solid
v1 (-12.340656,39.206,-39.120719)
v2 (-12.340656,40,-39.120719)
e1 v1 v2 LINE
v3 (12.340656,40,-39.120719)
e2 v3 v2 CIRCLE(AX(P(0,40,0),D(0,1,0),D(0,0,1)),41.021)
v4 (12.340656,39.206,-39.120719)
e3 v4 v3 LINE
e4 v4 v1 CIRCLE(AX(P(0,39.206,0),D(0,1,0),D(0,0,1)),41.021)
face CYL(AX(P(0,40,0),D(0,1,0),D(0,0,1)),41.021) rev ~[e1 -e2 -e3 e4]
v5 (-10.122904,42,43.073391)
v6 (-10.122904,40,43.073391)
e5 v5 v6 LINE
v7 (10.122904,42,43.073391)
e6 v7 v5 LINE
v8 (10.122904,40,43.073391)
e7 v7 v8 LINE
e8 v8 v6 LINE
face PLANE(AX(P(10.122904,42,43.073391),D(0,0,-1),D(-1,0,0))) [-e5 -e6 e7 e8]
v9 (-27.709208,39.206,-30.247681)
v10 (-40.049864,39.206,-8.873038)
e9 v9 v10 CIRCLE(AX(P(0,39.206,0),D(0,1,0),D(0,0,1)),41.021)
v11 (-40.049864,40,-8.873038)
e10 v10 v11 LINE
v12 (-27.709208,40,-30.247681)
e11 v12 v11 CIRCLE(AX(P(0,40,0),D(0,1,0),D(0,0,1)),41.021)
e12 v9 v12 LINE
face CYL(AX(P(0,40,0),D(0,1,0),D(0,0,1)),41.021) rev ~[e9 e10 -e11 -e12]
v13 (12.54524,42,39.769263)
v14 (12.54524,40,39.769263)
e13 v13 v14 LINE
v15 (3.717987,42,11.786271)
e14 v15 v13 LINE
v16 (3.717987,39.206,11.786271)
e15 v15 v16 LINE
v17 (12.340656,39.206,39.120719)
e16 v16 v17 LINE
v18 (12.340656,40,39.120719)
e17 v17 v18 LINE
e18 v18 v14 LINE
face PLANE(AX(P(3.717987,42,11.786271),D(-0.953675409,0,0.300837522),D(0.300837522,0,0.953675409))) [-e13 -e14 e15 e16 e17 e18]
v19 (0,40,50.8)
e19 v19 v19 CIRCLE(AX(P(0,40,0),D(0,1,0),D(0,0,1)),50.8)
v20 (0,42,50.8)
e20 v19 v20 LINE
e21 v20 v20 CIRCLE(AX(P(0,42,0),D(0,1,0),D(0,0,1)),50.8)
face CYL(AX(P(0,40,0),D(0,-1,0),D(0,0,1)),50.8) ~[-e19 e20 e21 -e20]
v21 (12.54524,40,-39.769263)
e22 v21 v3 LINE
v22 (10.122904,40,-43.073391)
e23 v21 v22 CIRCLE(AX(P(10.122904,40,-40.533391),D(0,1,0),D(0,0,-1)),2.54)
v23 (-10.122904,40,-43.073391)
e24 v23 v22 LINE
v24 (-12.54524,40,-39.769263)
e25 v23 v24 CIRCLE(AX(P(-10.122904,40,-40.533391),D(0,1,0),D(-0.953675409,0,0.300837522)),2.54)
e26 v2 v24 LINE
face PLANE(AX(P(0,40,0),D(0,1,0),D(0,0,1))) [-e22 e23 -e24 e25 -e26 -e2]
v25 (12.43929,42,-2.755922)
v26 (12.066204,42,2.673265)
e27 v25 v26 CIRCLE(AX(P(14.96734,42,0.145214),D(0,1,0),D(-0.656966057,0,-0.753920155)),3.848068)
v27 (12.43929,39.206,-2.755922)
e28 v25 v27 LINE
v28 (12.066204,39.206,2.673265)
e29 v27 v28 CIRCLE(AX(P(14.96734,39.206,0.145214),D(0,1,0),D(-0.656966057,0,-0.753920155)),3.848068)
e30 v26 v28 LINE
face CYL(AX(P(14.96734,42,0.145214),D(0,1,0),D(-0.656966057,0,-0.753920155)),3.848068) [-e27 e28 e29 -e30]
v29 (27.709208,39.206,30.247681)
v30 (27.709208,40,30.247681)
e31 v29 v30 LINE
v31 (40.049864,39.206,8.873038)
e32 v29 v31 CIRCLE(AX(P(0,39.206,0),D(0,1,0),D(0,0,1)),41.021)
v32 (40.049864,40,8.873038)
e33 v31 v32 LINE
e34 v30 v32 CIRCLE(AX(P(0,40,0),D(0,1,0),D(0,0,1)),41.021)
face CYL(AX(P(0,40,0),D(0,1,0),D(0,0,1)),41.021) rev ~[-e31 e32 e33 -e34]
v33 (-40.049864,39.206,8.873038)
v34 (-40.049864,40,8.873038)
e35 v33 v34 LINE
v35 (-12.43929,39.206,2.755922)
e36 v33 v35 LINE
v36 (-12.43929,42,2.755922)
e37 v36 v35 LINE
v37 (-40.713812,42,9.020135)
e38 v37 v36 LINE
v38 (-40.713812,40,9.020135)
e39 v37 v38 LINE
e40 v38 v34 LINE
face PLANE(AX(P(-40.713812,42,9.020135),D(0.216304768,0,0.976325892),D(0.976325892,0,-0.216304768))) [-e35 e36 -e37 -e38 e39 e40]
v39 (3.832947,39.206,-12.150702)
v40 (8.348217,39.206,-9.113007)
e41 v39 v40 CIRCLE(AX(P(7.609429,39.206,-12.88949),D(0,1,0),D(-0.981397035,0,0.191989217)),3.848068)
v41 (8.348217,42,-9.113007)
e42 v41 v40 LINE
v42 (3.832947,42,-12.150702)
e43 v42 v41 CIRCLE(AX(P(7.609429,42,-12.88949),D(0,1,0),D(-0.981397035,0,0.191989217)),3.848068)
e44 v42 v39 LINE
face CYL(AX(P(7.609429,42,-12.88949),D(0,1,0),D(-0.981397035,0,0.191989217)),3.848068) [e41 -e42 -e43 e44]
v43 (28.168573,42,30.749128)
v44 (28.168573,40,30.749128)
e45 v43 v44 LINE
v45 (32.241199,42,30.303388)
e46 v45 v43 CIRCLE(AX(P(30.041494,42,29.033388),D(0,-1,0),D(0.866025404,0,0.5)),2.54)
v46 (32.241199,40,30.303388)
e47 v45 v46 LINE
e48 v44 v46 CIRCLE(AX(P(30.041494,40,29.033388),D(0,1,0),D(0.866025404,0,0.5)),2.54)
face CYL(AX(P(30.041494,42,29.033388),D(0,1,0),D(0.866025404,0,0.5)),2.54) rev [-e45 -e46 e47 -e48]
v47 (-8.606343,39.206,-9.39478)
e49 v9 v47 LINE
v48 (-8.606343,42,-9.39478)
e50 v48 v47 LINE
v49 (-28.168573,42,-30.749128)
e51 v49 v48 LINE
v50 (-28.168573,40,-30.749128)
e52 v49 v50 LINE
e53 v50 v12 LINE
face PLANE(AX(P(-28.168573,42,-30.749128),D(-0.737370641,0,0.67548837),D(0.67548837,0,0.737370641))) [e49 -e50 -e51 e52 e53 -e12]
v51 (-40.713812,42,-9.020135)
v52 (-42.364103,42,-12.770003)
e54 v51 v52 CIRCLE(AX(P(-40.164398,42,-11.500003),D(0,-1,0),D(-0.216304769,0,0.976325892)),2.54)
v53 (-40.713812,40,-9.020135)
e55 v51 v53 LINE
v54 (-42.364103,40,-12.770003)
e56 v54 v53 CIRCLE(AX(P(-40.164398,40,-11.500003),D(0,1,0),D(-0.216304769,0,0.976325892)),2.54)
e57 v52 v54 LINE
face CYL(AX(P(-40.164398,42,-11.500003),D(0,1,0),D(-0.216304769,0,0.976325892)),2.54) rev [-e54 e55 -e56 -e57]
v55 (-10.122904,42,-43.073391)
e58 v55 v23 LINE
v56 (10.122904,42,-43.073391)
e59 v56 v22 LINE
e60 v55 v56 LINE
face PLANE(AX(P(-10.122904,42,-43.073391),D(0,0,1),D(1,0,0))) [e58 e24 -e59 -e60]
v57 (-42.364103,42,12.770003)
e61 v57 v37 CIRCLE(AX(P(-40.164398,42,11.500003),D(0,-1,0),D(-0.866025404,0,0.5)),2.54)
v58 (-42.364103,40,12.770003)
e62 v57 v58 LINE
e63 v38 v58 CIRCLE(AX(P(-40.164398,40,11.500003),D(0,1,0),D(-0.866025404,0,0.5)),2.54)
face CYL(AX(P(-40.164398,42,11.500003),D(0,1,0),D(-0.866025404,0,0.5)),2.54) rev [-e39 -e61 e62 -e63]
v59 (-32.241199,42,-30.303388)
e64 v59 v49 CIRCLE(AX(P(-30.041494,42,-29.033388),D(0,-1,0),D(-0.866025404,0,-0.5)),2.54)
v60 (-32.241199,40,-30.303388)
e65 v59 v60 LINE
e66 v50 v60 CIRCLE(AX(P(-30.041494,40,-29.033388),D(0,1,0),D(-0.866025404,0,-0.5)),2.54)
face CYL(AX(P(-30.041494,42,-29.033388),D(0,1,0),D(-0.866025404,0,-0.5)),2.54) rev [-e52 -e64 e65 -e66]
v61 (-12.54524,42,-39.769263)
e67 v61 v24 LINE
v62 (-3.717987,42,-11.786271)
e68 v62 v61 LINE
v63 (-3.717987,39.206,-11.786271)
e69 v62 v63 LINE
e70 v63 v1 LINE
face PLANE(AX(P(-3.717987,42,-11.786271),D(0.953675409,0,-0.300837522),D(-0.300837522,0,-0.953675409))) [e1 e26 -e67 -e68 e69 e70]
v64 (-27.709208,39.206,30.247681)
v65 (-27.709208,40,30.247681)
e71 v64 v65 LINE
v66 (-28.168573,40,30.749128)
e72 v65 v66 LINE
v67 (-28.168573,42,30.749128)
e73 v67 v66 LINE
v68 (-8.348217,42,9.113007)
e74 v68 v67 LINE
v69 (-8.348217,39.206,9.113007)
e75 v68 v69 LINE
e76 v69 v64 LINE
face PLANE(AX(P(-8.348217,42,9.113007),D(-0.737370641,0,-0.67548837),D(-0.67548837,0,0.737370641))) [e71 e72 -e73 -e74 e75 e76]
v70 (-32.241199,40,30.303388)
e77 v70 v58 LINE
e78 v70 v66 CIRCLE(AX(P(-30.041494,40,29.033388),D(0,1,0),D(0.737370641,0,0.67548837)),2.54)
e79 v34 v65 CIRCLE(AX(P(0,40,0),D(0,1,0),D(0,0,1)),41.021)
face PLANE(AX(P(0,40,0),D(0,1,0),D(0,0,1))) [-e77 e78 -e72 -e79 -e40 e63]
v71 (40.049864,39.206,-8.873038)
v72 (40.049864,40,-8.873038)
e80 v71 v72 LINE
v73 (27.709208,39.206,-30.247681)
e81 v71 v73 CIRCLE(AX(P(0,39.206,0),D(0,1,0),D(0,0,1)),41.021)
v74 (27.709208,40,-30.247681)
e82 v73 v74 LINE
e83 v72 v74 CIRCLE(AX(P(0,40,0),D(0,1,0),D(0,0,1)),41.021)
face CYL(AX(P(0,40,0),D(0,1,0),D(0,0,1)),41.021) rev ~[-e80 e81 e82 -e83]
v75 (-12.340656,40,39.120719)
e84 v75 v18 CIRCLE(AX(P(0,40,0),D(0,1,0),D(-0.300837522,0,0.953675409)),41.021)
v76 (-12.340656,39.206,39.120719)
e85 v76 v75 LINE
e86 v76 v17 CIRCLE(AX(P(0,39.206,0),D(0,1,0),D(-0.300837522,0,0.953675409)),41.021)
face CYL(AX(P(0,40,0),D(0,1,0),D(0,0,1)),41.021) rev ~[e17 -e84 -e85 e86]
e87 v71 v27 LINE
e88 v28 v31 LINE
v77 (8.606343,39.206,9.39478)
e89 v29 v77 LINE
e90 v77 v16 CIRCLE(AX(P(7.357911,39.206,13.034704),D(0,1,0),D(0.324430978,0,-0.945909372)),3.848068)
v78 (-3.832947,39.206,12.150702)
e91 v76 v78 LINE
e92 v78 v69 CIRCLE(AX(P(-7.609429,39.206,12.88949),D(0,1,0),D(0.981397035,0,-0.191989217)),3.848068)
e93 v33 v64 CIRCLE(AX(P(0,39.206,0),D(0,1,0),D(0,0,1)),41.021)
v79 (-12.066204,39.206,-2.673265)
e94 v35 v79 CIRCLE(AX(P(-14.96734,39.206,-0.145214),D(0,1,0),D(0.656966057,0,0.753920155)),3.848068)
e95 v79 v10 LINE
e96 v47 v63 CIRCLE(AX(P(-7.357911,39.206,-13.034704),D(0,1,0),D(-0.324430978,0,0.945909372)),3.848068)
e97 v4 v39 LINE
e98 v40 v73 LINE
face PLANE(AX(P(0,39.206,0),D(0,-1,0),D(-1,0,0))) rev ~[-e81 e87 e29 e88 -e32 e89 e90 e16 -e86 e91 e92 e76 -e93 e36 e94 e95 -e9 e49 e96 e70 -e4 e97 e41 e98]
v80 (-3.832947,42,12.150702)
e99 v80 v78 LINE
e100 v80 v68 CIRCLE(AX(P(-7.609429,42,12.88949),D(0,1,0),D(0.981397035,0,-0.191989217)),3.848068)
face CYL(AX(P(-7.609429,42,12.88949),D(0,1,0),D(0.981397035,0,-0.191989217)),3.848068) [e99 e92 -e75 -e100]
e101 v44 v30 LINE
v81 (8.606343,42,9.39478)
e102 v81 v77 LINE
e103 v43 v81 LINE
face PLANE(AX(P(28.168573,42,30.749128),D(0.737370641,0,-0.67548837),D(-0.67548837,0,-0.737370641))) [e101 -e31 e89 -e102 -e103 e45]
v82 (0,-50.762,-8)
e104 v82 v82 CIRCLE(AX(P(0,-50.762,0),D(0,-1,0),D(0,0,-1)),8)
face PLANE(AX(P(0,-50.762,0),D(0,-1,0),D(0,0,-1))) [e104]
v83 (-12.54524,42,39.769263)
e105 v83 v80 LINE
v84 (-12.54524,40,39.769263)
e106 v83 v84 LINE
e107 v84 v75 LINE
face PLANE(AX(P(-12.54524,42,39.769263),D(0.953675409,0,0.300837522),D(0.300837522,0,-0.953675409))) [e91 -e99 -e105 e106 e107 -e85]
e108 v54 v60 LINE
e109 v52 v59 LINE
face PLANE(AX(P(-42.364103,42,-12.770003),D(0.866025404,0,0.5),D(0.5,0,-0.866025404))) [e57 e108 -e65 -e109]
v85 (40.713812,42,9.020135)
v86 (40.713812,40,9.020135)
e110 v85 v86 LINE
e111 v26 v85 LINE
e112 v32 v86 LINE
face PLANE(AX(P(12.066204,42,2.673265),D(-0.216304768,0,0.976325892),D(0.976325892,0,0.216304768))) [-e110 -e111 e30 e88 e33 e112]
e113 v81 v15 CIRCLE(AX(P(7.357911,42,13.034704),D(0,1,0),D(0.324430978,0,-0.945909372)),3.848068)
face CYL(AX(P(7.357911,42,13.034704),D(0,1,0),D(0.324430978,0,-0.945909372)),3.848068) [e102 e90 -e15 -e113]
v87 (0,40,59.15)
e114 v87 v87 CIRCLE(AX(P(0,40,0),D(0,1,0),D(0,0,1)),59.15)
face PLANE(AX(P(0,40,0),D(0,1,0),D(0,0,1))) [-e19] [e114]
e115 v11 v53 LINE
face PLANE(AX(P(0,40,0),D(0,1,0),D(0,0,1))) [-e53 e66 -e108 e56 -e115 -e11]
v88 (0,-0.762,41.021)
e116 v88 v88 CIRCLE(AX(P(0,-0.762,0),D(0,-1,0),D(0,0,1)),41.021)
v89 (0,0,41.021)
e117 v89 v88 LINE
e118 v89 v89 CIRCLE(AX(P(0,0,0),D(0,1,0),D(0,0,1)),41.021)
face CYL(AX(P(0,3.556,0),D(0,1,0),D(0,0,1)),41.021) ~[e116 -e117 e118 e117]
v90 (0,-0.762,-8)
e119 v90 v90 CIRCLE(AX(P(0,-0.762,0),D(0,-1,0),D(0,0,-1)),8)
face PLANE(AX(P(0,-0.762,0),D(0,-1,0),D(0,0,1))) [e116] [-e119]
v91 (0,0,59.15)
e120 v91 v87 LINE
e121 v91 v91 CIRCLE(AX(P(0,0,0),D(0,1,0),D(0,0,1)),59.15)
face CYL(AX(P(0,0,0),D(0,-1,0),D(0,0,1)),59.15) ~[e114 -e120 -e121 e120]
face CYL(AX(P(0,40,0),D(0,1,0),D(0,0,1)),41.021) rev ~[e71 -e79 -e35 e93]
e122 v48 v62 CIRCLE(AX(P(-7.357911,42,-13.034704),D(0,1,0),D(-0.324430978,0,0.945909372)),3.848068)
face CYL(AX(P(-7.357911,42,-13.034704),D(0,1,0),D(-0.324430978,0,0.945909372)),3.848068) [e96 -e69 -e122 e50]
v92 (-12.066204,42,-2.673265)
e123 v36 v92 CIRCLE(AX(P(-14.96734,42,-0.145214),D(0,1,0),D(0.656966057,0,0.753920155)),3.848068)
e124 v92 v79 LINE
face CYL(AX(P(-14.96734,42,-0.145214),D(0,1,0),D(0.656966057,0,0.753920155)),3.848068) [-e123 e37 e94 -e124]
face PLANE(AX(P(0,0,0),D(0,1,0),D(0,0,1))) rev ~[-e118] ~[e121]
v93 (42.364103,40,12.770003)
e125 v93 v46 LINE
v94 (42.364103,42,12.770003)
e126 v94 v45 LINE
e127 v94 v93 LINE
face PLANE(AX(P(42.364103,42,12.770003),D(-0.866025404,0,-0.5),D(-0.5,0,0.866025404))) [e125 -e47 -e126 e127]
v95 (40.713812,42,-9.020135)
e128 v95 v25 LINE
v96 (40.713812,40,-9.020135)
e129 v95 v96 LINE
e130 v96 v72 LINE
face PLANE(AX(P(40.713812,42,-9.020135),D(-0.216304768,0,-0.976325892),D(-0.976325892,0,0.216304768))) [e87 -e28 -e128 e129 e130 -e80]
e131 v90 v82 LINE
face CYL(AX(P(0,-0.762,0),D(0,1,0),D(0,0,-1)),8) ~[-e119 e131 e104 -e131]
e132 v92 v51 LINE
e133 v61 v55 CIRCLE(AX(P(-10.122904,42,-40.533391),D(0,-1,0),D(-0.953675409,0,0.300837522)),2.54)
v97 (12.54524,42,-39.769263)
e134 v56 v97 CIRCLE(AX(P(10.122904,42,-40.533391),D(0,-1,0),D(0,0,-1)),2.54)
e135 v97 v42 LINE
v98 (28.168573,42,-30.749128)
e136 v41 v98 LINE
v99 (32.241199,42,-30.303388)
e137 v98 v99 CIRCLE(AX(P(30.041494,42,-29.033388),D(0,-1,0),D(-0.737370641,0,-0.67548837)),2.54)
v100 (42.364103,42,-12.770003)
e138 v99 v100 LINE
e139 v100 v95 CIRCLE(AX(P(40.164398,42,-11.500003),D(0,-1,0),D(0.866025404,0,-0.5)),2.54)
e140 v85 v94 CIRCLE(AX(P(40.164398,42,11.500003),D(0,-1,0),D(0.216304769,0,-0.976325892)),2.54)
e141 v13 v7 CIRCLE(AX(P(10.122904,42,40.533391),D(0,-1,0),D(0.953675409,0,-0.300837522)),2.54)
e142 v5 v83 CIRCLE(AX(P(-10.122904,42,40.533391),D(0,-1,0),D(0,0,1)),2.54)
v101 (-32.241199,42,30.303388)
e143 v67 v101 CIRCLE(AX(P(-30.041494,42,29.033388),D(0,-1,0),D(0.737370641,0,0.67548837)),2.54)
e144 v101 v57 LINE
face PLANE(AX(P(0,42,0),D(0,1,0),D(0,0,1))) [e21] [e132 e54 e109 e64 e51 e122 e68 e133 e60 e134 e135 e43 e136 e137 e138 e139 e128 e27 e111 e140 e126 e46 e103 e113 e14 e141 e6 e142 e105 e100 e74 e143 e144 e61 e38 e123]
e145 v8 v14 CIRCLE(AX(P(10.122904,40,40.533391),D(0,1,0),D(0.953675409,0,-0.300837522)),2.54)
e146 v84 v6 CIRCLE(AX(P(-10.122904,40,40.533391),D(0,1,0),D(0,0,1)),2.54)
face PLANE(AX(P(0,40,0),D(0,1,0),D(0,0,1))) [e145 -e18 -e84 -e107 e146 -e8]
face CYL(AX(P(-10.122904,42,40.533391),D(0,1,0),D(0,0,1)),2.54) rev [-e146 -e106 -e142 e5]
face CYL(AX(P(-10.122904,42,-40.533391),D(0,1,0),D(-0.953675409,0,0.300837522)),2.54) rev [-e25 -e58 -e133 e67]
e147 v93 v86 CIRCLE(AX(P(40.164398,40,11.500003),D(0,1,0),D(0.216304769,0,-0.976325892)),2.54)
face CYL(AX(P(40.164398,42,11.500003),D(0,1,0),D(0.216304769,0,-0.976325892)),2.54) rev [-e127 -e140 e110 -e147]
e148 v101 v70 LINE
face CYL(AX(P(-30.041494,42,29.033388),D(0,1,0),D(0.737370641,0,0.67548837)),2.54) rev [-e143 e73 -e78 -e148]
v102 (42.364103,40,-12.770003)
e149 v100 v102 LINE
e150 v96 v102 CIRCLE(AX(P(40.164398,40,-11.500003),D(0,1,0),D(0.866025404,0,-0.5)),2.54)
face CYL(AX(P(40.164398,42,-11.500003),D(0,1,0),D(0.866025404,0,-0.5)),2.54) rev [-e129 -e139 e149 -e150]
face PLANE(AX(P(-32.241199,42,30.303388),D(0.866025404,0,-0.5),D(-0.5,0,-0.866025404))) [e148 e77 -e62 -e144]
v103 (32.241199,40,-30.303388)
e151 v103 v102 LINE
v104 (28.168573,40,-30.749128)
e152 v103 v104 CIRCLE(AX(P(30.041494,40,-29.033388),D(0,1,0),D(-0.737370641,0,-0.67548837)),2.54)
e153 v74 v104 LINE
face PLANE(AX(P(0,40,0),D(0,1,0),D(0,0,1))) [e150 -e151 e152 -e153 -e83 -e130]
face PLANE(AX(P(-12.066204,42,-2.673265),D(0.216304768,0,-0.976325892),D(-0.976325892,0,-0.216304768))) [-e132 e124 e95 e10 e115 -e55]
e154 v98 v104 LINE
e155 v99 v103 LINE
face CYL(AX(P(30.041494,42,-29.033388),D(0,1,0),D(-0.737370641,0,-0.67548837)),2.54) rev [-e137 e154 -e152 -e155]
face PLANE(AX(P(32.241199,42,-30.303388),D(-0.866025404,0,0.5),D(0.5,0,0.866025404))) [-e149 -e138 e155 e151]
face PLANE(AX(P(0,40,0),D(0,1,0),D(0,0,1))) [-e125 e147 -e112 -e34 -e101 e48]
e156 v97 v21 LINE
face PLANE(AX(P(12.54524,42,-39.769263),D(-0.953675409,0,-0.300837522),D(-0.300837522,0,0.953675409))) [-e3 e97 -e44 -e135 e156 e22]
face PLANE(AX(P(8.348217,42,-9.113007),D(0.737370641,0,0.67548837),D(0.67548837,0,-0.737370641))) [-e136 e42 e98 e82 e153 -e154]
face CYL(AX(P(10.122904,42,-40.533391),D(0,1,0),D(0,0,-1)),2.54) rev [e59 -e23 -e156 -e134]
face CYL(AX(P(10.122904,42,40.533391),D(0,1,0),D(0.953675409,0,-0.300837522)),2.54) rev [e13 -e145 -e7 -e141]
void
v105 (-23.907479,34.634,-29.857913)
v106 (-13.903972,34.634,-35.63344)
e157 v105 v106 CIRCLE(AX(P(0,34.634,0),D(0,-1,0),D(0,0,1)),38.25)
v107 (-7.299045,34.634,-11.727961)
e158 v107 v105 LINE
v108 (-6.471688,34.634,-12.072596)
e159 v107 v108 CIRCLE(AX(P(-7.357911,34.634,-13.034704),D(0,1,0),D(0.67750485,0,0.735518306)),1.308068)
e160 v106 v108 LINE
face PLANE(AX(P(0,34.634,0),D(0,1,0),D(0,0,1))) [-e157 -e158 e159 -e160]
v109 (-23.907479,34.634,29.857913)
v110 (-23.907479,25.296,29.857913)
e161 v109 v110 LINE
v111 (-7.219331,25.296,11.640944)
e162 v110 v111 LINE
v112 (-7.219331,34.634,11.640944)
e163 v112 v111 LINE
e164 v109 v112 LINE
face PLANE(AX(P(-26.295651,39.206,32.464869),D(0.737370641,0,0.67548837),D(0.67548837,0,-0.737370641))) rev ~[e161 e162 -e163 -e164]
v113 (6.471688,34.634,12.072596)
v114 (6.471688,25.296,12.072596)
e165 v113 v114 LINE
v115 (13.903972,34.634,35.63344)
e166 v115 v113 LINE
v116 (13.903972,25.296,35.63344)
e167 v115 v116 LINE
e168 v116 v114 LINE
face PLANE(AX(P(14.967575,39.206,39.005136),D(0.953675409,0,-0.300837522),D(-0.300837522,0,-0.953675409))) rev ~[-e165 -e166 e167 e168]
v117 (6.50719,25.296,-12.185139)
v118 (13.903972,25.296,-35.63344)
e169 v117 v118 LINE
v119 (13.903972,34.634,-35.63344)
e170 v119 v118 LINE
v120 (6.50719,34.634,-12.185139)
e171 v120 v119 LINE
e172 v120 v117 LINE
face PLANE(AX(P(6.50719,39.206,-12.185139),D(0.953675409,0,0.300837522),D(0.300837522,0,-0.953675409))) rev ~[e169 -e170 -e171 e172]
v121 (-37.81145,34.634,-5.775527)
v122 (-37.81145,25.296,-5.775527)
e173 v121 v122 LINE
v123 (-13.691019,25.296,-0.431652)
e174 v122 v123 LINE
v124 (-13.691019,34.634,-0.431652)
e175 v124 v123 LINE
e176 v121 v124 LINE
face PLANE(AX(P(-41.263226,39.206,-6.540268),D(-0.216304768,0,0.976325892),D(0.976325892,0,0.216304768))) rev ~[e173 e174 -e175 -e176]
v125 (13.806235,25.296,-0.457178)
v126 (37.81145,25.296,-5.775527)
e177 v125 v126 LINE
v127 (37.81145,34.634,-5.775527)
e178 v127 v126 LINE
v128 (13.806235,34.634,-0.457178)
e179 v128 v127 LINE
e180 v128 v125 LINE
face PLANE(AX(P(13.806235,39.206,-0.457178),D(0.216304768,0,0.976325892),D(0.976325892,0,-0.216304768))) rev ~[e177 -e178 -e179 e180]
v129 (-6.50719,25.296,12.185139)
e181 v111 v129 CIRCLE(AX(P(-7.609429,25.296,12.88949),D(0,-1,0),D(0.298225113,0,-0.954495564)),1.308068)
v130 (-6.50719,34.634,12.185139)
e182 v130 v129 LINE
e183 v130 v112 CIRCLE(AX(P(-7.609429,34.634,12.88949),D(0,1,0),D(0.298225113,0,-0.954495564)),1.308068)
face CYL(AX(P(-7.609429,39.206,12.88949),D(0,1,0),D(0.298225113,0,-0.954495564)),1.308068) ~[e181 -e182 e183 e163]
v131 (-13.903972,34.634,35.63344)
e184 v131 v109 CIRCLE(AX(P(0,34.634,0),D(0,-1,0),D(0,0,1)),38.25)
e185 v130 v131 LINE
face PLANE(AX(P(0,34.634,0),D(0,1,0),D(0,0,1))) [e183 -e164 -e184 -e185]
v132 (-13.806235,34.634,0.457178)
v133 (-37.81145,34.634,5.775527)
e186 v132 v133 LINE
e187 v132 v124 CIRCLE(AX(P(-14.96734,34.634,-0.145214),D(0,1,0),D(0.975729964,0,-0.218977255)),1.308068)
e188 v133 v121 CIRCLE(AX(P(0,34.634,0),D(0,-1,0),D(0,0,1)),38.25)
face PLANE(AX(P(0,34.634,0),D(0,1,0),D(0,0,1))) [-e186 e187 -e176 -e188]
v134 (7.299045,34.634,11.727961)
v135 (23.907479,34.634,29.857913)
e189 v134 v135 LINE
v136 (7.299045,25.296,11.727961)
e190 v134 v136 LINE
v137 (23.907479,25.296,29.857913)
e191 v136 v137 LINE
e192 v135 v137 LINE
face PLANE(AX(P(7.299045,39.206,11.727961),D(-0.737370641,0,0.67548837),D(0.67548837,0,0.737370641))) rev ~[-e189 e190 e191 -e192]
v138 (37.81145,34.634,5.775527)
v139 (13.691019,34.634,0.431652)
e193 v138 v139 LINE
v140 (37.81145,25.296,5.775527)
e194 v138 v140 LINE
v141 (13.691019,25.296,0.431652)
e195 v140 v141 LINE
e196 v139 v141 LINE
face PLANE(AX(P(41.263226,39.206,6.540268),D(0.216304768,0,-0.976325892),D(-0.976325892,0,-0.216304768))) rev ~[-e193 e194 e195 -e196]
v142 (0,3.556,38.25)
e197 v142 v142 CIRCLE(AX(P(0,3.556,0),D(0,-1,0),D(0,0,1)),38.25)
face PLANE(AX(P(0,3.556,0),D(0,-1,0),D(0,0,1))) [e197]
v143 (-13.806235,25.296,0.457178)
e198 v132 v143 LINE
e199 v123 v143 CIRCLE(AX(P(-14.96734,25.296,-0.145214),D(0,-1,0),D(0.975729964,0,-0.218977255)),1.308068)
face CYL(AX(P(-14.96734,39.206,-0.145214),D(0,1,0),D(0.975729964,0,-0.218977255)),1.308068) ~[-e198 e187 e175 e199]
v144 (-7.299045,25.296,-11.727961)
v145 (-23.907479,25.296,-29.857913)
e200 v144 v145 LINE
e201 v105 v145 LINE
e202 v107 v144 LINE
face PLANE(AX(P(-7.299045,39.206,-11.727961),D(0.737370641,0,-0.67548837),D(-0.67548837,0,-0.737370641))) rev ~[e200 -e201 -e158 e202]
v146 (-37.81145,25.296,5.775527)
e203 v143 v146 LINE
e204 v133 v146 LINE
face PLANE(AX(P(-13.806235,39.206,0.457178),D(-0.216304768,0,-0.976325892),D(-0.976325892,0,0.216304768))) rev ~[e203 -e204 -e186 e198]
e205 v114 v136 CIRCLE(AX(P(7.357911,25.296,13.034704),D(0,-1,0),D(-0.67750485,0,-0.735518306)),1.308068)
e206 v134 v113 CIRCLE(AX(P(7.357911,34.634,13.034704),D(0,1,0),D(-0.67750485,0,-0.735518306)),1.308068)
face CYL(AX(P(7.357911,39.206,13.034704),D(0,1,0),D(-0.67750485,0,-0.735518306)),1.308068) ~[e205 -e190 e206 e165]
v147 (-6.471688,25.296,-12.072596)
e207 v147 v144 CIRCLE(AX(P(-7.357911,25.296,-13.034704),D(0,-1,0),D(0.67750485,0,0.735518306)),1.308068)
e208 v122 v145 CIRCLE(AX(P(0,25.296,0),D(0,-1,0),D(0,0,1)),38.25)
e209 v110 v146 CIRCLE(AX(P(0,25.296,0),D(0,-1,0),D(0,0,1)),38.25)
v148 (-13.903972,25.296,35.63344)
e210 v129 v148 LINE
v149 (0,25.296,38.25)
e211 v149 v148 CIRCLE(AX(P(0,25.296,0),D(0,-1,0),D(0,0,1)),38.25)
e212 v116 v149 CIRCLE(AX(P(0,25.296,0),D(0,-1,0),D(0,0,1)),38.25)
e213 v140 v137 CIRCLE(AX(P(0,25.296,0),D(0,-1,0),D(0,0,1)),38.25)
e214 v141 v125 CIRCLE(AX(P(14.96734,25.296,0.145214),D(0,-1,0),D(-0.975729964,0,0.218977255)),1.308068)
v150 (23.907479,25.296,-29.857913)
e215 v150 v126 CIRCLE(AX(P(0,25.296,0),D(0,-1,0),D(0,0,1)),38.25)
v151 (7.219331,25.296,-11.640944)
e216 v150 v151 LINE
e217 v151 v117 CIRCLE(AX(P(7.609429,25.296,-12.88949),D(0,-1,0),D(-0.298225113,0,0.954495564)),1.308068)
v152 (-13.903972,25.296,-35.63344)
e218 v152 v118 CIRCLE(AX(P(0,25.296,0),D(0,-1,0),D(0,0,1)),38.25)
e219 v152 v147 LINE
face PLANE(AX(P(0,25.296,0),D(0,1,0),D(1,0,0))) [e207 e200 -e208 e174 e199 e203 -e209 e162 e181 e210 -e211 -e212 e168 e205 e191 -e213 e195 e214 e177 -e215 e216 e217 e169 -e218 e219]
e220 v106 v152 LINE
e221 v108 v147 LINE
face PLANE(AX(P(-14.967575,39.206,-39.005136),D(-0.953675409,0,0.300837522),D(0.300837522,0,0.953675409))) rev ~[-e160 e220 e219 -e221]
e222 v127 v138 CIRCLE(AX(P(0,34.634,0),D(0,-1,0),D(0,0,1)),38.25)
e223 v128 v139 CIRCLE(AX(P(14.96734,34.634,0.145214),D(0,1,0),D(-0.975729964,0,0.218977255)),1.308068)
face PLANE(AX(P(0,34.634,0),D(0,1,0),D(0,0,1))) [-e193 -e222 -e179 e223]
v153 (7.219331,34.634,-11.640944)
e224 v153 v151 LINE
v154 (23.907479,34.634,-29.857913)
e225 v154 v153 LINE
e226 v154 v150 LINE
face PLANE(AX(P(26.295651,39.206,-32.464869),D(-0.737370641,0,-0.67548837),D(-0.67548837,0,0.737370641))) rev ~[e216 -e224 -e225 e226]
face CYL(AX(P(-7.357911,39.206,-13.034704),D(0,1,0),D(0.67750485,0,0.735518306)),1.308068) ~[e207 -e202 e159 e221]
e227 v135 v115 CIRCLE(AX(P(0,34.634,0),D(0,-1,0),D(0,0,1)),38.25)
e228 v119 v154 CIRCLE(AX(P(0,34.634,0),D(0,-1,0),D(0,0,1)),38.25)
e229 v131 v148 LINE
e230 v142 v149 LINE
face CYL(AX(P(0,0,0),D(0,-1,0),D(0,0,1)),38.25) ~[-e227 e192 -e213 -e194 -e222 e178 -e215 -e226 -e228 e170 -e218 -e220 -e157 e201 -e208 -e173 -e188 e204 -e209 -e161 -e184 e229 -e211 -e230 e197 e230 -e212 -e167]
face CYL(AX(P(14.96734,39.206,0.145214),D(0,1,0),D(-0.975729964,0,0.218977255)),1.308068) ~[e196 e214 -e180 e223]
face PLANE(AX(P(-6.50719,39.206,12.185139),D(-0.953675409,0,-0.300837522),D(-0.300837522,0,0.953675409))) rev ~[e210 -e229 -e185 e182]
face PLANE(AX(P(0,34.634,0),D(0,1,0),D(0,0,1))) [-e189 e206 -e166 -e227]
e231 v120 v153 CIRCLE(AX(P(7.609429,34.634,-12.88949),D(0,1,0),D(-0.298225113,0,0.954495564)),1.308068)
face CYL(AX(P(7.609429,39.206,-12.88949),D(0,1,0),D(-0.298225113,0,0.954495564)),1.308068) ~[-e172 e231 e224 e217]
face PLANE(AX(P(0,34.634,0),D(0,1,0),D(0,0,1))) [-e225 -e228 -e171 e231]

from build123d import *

# Parameters (mm, degrees)
SKETCH3_R           = 59.15
SKETCH3_R_2         = 38.25
BOSS_EXTRUDE1_DEPTH = 40
SKETCH4_R           = 41.021
CUT_EXTRUDE1_DEPTH  = 3.556
SKETCH5_R           = 50.8
BOSS_EXTRUDE2_DEPTH = 2
SKETCH7_R           = 44.45
BOSS_EXTRUDE3_DEPTH = 7.366
CUT_EXTRUDE2_DEPTH  = 2.794
BOSS_EXTRUDE5_DEPTH = 13.91
SKETCH11_R          = 41.021
BOSS_EXTRUDE6_DEPTH = 4.318
SKETCH12_R          = 8
BOSS_EXTRUDE7_DEPTH = 50


with BuildPart() as part:
    # Sketch3 → Boss-Extrude1 (new body)
    with BuildSketch(Plane(origin=(0, 0, 0), x_dir=(1, 0, 0), z_dir=(0, 1, 0))):
        with Locations(Location((0, 0, 0), (0, 0, 270))):
            Circle(SKETCH3_R)
        with Locations(Location((0, 0, 0), (0, 0, 270))):
            Circle(SKETCH3_R_2, mode=Mode.SUBTRACT)
    extrude(amount=BOSS_EXTRUDE1_DEPTH)

    # Sketch4 → Cut-Extrude1 (cut)
    with BuildSketch(Plane(origin=(0, 40, 0), x_dir=(1, 0, 0), z_dir=(0, 1, 0))):
        with Locations(Location((0, 0, 0), (0, 0, 270))):
            Circle(SKETCH4_R)
    cut_extrude1 = extrude(amount=-CUT_EXTRUDE1_DEPTH, mode=Mode.SUBTRACT)

    # Mirror1: Cut-Extrude1 across plane
    add(cut_extrude1.mirror(Plane.ZX.offset(20)), mode=Mode.SUBTRACT)



with BuildPart() as body_2:
    # Sketch5 → Boss-Extrude2 (new body)
    with BuildSketch(Plane(origin=(0, 40, 0), x_dir=(1, 0, 0), z_dir=(0, 1, 0))):
        with Locations(Location((0, 0, 0), (0, 0, 270))):
            Circle(SKETCH5_R)
    extrude(amount=BOSS_EXTRUDE2_DEPTH)

    # Sketch7 → Boss-Extrude3 (add)
    with BuildSketch(Plane(origin=(0, 42, 0), x_dir=(1, 0, 0), z_dir=(0, 1, 0))):
        with Locations(Location((0, 0, 0), (0, 0, 270))):
            Circle(SKETCH7_R)
    extrude(amount=-BOSS_EXTRUDE3_DEPTH)

    # Sketch8 → Cut-Extrude2 (cut)
    with BuildSketch(Plane(origin=(0, 42, 0), x_dir=(1, 0, 0), z_dir=(0, 1, 0))):
        with BuildLine():
            Line((-3.717986915, 11.786271444), (-12.545239758, 39.769263451))
            ThreePointArc((-12.545239758, 39.769263451), (-12.171377231, 42.035175802), (-10.12290422, 43.073390757))
            Line((-10.12290422, 43.073390757), (10.12290422, 43.073390757))
            ThreePointArc((10.12290422, 43.073390757), (12.171377231, 42.035175802), (12.545239758, 39.769263451))
            Line((12.545239758, 39.769263451), (3.832946747, 12.150701932))
            ThreePointArc((3.832946747, 12.150701932), (5.461454635, 9.696711292), (8.348217029, 9.113006841))
            Line((8.348217029, 9.113006841), (28.16857256, 30.749128053))
            ThreePointArc((28.16857256, 30.749128053), (30.317841482, 31.558309782), (32.241198512, 30.303387593))
            Line((32.241198512, 30.303387593), (42.364102732, 12.770003164))
            ThreePointArc((42.364102732, 12.770003164), (42.489218712, 10.47686602), (40.713812318, 9.020135398))
            Line((40.713812318, 9.020135398), (12.43928992, 2.755921712))
            ThreePointArc((12.43928992, 2.755921712), (11.12832563, 0.11859719), (12.066203944, -2.673264603))
            Line((12.066203944, -2.673264603), (40.713812318, -9.020135398))
            ThreePointArc((40.713812318, -9.020135398), (42.489218712, -10.47686602), (42.364102732, -12.770003164))
            Line((42.364102732, -12.770003164), (32.241198512, -30.303387593))
            ThreePointArc((32.241198512, -30.303387593), (30.317841482, -31.558309782), (28.16857256, -30.749128053))
            Line((28.16857256, -30.749128053), (8.606343173, -9.39478022))
            ThreePointArc((8.606343173, -9.39478022), (5.666870994, -9.578114102), (3.717986915, -11.786271444))
            Line((3.717986915, -11.786271444), (12.545239758, -39.769263451))
            ThreePointArc((12.545239758, -39.769263451), (12.171377231, -42.035175802), (10.12290422, -43.073390757))
            Line((10.12290422, -43.073390757), (-10.12290422, -43.073390757))
            ThreePointArc((-10.12290422, -43.073390757), (-12.171377231, -42.035175802), (-12.545239758, -39.769263451))
            Line((-12.545239758, -39.769263451), (-3.832946747, -12.150701932))
            ThreePointArc((-3.832946747, -12.150701932), (-5.461454635, -9.696711292), (-8.348217029, -9.113006841))
            Line((-8.348217029, -9.113006841), (-28.16857256, -30.749128053))
            ThreePointArc((-28.16857256, -30.749128053), (-30.317841482, -31.558309782), (-32.241198512, -30.303387593))
            Line((-32.241198512, -30.303387593), (-42.364102732, -12.770003164))
            ThreePointArc((-42.364102732, -12.770003164), (-42.489218712, -10.47686602), (-40.713812318, -9.020135398))
            Line((-40.713812318, -9.020135398), (-12.43928992, -2.755921712))
            ThreePointArc((-12.43928992, -2.755921712), (-11.12832563, -0.11859719), (-12.066203944, 2.673264603))
            Line((-12.066203944, 2.673264603), (-40.713812318, 9.020135398))
            ThreePointArc((-40.713812318, 9.020135398), (-42.489218712, 10.47686602), (-42.364102732, 12.770003164))
            Line((-42.364102732, 12.770003164), (-32.241198512, 30.303387593))
            ThreePointArc((-32.241198512, 30.303387593), (-30.317841482, 31.558309782), (-28.16857256, 30.749128053))
            Line((-28.16857256, 30.749128053), (-8.606343173, 9.39478022))
            ThreePointArc((-8.606343173, 9.39478022), (-5.666870994, 9.578114102), (-3.717986915, 11.786271444))
        make_face()
    extrude(amount=-CUT_EXTRUDE2_DEPTH, mode=Mode.SUBTRACT)


with BuildPart() as part_1:
    add(part.part)

    add(body_2.part)  # Boss-Extrude5 merges body 2
    # Sketch10 → Boss-Extrude5 (add)
    with BuildSketch(Plane(origin=(0, 39.206, 0), x_dir=(1, 0, 0), z_dir=(0, 1, 0))):
        with BuildLine():
            Line((10.12290422, 45.613390757), (-10.12290422, 45.613390757))
            ThreePointArc((-10.12290422, 45.613390757), (-14.219850242, 43.536960847), (-14.967575297, 39.005136146))
            Line((-14.967575297, 39.005136146), (-6.471688132, 12.072595881))
            ThreePointArc((-6.471688132, 12.072595881), (-6.854928199, 11.827206148), (-7.29904471, 11.727961017))
            Line((-7.29904471, 11.727961017), (-26.295651132, 32.464868513))
            ThreePointArc((-26.295651132, 32.464868513), (-30.594188976, 34.083231971), (-34.440903038, 31.573387593))
            Line((-34.440903038, 31.573387593), (-44.563807258, 14.040003164))
            ThreePointArc((-44.563807258, 14.040003164), (-44.814039218, 9.453728876), (-41.263226429, 6.540267633))
            Line((-41.263226429, 6.540267633), (-13.691018788, 0.431651613))
            ThreePointArc((-13.691018788, 0.431651613), (-13.67012508, -0.022938888), (-13.80623453, -0.457177633))
            Line((-13.80623453, -0.457177633), (-41.263226429, -6.540267633))
            ThreePointArc((-41.263226429, -6.540267633), (-44.814039218, -9.453728876), (-44.563807258, -14.040003164))
            Line((-44.563807258, -14.040003164), (-34.440903038, -31.573387593))
            ThreePointArc((-34.440903038, -31.573387593), (-30.594188976, -34.083231971), (-26.295651132, -32.464868513))
            Line((-26.295651132, -32.464868513), (-7.219330657, -11.640944268))
            ThreePointArc((-7.219330657, -11.640944268), (-6.81519688, -11.850145036), (-6.507189821, -12.185138651))
            Line((-6.507189821, -12.185138651), (-14.967575297, -39.005136146))
            ThreePointArc((-14.967575297, -39.005136146), (-14.219850242, -43.536960847), (-10.12290422, -45.613390757))
            Line((-10.12290422, -45.613390757), (10.12290422, -45.613390757))
            ThreePointArc((10.12290422, -45.613390757), (14.219850242, -43.536960847), (14.967575297, -39.005136146))
            Line((14.967575297, -39.005136146), (6.471688132, -12.072595881))
            ThreePointArc((6.471688132, -12.072595881), (6.854928199, -11.827206148), (7.29904471, -11.727961017))
            Line((7.29904471, -11.727961017), (26.295651132, -32.464868513))
            ThreePointArc((26.295651132, -32.464868513), (30.594188976, -34.083231971), (34.440903038, -31.573387593))
            Line((34.440903038, -31.573387593), (44.563807258, -14.040003164))
            ThreePointArc((44.563807258, -14.040003164), (44.814039218, -9.453728876), (41.263226429, -6.540267633))
            Line((41.263226429, -6.540267633), (13.691018788, -0.431651613))
            ThreePointArc((13.691018788, -0.431651613), (13.67012508, 0.022938888), (13.80623453, 0.457177633))
            Line((13.80623453, 0.457177633), (41.263226429, 6.540267633))
            ThreePointArc((41.263226429, 6.540267633), (44.814039218, 9.453728876), (44.563807258, 14.040003164))
            Line((44.563807258, 14.040003164), (34.440903038, 31.573387593))
            ThreePointArc((34.440903038, 31.573387593), (30.594188976, 34.083231971), (26.295651132, 32.464868513))
            Line((26.295651132, 32.464868513), (7.219330657, 11.640944268))
            ThreePointArc((7.219330657, 11.640944268), (6.81519688, 11.850145036), (6.507189821, 12.185138651))
            Line((6.507189821, 12.185138651), (14.967575297, 39.005136146))
            ThreePointArc((14.967575297, 39.005136146), (14.219850242, 43.536960847), (10.12290422, 45.613390757))
        make_face()
    extrude(amount=-BOSS_EXTRUDE5_DEPTH)

    # Sketch11 → Boss-Extrude6 (add)
    with BuildSketch(Plane.XZ.offset(-3.556)):
        with Locations(Location((0, 0, 0), (0, 0, 90))):
            Circle(SKETCH11_R)
    extrude(amount=BOSS_EXTRUDE6_DEPTH)

    # Sketch12 → Boss-Extrude7 (add)
    with BuildSketch(Plane.XZ.offset(0.762)):
        with Locations(Location((0, 0, 0), (0, 0, 270))):
            Circle(SKETCH12_R)
    extrude(amount=BOSS_EXTRUDE7_DEPTH)


solid = part_1.part
